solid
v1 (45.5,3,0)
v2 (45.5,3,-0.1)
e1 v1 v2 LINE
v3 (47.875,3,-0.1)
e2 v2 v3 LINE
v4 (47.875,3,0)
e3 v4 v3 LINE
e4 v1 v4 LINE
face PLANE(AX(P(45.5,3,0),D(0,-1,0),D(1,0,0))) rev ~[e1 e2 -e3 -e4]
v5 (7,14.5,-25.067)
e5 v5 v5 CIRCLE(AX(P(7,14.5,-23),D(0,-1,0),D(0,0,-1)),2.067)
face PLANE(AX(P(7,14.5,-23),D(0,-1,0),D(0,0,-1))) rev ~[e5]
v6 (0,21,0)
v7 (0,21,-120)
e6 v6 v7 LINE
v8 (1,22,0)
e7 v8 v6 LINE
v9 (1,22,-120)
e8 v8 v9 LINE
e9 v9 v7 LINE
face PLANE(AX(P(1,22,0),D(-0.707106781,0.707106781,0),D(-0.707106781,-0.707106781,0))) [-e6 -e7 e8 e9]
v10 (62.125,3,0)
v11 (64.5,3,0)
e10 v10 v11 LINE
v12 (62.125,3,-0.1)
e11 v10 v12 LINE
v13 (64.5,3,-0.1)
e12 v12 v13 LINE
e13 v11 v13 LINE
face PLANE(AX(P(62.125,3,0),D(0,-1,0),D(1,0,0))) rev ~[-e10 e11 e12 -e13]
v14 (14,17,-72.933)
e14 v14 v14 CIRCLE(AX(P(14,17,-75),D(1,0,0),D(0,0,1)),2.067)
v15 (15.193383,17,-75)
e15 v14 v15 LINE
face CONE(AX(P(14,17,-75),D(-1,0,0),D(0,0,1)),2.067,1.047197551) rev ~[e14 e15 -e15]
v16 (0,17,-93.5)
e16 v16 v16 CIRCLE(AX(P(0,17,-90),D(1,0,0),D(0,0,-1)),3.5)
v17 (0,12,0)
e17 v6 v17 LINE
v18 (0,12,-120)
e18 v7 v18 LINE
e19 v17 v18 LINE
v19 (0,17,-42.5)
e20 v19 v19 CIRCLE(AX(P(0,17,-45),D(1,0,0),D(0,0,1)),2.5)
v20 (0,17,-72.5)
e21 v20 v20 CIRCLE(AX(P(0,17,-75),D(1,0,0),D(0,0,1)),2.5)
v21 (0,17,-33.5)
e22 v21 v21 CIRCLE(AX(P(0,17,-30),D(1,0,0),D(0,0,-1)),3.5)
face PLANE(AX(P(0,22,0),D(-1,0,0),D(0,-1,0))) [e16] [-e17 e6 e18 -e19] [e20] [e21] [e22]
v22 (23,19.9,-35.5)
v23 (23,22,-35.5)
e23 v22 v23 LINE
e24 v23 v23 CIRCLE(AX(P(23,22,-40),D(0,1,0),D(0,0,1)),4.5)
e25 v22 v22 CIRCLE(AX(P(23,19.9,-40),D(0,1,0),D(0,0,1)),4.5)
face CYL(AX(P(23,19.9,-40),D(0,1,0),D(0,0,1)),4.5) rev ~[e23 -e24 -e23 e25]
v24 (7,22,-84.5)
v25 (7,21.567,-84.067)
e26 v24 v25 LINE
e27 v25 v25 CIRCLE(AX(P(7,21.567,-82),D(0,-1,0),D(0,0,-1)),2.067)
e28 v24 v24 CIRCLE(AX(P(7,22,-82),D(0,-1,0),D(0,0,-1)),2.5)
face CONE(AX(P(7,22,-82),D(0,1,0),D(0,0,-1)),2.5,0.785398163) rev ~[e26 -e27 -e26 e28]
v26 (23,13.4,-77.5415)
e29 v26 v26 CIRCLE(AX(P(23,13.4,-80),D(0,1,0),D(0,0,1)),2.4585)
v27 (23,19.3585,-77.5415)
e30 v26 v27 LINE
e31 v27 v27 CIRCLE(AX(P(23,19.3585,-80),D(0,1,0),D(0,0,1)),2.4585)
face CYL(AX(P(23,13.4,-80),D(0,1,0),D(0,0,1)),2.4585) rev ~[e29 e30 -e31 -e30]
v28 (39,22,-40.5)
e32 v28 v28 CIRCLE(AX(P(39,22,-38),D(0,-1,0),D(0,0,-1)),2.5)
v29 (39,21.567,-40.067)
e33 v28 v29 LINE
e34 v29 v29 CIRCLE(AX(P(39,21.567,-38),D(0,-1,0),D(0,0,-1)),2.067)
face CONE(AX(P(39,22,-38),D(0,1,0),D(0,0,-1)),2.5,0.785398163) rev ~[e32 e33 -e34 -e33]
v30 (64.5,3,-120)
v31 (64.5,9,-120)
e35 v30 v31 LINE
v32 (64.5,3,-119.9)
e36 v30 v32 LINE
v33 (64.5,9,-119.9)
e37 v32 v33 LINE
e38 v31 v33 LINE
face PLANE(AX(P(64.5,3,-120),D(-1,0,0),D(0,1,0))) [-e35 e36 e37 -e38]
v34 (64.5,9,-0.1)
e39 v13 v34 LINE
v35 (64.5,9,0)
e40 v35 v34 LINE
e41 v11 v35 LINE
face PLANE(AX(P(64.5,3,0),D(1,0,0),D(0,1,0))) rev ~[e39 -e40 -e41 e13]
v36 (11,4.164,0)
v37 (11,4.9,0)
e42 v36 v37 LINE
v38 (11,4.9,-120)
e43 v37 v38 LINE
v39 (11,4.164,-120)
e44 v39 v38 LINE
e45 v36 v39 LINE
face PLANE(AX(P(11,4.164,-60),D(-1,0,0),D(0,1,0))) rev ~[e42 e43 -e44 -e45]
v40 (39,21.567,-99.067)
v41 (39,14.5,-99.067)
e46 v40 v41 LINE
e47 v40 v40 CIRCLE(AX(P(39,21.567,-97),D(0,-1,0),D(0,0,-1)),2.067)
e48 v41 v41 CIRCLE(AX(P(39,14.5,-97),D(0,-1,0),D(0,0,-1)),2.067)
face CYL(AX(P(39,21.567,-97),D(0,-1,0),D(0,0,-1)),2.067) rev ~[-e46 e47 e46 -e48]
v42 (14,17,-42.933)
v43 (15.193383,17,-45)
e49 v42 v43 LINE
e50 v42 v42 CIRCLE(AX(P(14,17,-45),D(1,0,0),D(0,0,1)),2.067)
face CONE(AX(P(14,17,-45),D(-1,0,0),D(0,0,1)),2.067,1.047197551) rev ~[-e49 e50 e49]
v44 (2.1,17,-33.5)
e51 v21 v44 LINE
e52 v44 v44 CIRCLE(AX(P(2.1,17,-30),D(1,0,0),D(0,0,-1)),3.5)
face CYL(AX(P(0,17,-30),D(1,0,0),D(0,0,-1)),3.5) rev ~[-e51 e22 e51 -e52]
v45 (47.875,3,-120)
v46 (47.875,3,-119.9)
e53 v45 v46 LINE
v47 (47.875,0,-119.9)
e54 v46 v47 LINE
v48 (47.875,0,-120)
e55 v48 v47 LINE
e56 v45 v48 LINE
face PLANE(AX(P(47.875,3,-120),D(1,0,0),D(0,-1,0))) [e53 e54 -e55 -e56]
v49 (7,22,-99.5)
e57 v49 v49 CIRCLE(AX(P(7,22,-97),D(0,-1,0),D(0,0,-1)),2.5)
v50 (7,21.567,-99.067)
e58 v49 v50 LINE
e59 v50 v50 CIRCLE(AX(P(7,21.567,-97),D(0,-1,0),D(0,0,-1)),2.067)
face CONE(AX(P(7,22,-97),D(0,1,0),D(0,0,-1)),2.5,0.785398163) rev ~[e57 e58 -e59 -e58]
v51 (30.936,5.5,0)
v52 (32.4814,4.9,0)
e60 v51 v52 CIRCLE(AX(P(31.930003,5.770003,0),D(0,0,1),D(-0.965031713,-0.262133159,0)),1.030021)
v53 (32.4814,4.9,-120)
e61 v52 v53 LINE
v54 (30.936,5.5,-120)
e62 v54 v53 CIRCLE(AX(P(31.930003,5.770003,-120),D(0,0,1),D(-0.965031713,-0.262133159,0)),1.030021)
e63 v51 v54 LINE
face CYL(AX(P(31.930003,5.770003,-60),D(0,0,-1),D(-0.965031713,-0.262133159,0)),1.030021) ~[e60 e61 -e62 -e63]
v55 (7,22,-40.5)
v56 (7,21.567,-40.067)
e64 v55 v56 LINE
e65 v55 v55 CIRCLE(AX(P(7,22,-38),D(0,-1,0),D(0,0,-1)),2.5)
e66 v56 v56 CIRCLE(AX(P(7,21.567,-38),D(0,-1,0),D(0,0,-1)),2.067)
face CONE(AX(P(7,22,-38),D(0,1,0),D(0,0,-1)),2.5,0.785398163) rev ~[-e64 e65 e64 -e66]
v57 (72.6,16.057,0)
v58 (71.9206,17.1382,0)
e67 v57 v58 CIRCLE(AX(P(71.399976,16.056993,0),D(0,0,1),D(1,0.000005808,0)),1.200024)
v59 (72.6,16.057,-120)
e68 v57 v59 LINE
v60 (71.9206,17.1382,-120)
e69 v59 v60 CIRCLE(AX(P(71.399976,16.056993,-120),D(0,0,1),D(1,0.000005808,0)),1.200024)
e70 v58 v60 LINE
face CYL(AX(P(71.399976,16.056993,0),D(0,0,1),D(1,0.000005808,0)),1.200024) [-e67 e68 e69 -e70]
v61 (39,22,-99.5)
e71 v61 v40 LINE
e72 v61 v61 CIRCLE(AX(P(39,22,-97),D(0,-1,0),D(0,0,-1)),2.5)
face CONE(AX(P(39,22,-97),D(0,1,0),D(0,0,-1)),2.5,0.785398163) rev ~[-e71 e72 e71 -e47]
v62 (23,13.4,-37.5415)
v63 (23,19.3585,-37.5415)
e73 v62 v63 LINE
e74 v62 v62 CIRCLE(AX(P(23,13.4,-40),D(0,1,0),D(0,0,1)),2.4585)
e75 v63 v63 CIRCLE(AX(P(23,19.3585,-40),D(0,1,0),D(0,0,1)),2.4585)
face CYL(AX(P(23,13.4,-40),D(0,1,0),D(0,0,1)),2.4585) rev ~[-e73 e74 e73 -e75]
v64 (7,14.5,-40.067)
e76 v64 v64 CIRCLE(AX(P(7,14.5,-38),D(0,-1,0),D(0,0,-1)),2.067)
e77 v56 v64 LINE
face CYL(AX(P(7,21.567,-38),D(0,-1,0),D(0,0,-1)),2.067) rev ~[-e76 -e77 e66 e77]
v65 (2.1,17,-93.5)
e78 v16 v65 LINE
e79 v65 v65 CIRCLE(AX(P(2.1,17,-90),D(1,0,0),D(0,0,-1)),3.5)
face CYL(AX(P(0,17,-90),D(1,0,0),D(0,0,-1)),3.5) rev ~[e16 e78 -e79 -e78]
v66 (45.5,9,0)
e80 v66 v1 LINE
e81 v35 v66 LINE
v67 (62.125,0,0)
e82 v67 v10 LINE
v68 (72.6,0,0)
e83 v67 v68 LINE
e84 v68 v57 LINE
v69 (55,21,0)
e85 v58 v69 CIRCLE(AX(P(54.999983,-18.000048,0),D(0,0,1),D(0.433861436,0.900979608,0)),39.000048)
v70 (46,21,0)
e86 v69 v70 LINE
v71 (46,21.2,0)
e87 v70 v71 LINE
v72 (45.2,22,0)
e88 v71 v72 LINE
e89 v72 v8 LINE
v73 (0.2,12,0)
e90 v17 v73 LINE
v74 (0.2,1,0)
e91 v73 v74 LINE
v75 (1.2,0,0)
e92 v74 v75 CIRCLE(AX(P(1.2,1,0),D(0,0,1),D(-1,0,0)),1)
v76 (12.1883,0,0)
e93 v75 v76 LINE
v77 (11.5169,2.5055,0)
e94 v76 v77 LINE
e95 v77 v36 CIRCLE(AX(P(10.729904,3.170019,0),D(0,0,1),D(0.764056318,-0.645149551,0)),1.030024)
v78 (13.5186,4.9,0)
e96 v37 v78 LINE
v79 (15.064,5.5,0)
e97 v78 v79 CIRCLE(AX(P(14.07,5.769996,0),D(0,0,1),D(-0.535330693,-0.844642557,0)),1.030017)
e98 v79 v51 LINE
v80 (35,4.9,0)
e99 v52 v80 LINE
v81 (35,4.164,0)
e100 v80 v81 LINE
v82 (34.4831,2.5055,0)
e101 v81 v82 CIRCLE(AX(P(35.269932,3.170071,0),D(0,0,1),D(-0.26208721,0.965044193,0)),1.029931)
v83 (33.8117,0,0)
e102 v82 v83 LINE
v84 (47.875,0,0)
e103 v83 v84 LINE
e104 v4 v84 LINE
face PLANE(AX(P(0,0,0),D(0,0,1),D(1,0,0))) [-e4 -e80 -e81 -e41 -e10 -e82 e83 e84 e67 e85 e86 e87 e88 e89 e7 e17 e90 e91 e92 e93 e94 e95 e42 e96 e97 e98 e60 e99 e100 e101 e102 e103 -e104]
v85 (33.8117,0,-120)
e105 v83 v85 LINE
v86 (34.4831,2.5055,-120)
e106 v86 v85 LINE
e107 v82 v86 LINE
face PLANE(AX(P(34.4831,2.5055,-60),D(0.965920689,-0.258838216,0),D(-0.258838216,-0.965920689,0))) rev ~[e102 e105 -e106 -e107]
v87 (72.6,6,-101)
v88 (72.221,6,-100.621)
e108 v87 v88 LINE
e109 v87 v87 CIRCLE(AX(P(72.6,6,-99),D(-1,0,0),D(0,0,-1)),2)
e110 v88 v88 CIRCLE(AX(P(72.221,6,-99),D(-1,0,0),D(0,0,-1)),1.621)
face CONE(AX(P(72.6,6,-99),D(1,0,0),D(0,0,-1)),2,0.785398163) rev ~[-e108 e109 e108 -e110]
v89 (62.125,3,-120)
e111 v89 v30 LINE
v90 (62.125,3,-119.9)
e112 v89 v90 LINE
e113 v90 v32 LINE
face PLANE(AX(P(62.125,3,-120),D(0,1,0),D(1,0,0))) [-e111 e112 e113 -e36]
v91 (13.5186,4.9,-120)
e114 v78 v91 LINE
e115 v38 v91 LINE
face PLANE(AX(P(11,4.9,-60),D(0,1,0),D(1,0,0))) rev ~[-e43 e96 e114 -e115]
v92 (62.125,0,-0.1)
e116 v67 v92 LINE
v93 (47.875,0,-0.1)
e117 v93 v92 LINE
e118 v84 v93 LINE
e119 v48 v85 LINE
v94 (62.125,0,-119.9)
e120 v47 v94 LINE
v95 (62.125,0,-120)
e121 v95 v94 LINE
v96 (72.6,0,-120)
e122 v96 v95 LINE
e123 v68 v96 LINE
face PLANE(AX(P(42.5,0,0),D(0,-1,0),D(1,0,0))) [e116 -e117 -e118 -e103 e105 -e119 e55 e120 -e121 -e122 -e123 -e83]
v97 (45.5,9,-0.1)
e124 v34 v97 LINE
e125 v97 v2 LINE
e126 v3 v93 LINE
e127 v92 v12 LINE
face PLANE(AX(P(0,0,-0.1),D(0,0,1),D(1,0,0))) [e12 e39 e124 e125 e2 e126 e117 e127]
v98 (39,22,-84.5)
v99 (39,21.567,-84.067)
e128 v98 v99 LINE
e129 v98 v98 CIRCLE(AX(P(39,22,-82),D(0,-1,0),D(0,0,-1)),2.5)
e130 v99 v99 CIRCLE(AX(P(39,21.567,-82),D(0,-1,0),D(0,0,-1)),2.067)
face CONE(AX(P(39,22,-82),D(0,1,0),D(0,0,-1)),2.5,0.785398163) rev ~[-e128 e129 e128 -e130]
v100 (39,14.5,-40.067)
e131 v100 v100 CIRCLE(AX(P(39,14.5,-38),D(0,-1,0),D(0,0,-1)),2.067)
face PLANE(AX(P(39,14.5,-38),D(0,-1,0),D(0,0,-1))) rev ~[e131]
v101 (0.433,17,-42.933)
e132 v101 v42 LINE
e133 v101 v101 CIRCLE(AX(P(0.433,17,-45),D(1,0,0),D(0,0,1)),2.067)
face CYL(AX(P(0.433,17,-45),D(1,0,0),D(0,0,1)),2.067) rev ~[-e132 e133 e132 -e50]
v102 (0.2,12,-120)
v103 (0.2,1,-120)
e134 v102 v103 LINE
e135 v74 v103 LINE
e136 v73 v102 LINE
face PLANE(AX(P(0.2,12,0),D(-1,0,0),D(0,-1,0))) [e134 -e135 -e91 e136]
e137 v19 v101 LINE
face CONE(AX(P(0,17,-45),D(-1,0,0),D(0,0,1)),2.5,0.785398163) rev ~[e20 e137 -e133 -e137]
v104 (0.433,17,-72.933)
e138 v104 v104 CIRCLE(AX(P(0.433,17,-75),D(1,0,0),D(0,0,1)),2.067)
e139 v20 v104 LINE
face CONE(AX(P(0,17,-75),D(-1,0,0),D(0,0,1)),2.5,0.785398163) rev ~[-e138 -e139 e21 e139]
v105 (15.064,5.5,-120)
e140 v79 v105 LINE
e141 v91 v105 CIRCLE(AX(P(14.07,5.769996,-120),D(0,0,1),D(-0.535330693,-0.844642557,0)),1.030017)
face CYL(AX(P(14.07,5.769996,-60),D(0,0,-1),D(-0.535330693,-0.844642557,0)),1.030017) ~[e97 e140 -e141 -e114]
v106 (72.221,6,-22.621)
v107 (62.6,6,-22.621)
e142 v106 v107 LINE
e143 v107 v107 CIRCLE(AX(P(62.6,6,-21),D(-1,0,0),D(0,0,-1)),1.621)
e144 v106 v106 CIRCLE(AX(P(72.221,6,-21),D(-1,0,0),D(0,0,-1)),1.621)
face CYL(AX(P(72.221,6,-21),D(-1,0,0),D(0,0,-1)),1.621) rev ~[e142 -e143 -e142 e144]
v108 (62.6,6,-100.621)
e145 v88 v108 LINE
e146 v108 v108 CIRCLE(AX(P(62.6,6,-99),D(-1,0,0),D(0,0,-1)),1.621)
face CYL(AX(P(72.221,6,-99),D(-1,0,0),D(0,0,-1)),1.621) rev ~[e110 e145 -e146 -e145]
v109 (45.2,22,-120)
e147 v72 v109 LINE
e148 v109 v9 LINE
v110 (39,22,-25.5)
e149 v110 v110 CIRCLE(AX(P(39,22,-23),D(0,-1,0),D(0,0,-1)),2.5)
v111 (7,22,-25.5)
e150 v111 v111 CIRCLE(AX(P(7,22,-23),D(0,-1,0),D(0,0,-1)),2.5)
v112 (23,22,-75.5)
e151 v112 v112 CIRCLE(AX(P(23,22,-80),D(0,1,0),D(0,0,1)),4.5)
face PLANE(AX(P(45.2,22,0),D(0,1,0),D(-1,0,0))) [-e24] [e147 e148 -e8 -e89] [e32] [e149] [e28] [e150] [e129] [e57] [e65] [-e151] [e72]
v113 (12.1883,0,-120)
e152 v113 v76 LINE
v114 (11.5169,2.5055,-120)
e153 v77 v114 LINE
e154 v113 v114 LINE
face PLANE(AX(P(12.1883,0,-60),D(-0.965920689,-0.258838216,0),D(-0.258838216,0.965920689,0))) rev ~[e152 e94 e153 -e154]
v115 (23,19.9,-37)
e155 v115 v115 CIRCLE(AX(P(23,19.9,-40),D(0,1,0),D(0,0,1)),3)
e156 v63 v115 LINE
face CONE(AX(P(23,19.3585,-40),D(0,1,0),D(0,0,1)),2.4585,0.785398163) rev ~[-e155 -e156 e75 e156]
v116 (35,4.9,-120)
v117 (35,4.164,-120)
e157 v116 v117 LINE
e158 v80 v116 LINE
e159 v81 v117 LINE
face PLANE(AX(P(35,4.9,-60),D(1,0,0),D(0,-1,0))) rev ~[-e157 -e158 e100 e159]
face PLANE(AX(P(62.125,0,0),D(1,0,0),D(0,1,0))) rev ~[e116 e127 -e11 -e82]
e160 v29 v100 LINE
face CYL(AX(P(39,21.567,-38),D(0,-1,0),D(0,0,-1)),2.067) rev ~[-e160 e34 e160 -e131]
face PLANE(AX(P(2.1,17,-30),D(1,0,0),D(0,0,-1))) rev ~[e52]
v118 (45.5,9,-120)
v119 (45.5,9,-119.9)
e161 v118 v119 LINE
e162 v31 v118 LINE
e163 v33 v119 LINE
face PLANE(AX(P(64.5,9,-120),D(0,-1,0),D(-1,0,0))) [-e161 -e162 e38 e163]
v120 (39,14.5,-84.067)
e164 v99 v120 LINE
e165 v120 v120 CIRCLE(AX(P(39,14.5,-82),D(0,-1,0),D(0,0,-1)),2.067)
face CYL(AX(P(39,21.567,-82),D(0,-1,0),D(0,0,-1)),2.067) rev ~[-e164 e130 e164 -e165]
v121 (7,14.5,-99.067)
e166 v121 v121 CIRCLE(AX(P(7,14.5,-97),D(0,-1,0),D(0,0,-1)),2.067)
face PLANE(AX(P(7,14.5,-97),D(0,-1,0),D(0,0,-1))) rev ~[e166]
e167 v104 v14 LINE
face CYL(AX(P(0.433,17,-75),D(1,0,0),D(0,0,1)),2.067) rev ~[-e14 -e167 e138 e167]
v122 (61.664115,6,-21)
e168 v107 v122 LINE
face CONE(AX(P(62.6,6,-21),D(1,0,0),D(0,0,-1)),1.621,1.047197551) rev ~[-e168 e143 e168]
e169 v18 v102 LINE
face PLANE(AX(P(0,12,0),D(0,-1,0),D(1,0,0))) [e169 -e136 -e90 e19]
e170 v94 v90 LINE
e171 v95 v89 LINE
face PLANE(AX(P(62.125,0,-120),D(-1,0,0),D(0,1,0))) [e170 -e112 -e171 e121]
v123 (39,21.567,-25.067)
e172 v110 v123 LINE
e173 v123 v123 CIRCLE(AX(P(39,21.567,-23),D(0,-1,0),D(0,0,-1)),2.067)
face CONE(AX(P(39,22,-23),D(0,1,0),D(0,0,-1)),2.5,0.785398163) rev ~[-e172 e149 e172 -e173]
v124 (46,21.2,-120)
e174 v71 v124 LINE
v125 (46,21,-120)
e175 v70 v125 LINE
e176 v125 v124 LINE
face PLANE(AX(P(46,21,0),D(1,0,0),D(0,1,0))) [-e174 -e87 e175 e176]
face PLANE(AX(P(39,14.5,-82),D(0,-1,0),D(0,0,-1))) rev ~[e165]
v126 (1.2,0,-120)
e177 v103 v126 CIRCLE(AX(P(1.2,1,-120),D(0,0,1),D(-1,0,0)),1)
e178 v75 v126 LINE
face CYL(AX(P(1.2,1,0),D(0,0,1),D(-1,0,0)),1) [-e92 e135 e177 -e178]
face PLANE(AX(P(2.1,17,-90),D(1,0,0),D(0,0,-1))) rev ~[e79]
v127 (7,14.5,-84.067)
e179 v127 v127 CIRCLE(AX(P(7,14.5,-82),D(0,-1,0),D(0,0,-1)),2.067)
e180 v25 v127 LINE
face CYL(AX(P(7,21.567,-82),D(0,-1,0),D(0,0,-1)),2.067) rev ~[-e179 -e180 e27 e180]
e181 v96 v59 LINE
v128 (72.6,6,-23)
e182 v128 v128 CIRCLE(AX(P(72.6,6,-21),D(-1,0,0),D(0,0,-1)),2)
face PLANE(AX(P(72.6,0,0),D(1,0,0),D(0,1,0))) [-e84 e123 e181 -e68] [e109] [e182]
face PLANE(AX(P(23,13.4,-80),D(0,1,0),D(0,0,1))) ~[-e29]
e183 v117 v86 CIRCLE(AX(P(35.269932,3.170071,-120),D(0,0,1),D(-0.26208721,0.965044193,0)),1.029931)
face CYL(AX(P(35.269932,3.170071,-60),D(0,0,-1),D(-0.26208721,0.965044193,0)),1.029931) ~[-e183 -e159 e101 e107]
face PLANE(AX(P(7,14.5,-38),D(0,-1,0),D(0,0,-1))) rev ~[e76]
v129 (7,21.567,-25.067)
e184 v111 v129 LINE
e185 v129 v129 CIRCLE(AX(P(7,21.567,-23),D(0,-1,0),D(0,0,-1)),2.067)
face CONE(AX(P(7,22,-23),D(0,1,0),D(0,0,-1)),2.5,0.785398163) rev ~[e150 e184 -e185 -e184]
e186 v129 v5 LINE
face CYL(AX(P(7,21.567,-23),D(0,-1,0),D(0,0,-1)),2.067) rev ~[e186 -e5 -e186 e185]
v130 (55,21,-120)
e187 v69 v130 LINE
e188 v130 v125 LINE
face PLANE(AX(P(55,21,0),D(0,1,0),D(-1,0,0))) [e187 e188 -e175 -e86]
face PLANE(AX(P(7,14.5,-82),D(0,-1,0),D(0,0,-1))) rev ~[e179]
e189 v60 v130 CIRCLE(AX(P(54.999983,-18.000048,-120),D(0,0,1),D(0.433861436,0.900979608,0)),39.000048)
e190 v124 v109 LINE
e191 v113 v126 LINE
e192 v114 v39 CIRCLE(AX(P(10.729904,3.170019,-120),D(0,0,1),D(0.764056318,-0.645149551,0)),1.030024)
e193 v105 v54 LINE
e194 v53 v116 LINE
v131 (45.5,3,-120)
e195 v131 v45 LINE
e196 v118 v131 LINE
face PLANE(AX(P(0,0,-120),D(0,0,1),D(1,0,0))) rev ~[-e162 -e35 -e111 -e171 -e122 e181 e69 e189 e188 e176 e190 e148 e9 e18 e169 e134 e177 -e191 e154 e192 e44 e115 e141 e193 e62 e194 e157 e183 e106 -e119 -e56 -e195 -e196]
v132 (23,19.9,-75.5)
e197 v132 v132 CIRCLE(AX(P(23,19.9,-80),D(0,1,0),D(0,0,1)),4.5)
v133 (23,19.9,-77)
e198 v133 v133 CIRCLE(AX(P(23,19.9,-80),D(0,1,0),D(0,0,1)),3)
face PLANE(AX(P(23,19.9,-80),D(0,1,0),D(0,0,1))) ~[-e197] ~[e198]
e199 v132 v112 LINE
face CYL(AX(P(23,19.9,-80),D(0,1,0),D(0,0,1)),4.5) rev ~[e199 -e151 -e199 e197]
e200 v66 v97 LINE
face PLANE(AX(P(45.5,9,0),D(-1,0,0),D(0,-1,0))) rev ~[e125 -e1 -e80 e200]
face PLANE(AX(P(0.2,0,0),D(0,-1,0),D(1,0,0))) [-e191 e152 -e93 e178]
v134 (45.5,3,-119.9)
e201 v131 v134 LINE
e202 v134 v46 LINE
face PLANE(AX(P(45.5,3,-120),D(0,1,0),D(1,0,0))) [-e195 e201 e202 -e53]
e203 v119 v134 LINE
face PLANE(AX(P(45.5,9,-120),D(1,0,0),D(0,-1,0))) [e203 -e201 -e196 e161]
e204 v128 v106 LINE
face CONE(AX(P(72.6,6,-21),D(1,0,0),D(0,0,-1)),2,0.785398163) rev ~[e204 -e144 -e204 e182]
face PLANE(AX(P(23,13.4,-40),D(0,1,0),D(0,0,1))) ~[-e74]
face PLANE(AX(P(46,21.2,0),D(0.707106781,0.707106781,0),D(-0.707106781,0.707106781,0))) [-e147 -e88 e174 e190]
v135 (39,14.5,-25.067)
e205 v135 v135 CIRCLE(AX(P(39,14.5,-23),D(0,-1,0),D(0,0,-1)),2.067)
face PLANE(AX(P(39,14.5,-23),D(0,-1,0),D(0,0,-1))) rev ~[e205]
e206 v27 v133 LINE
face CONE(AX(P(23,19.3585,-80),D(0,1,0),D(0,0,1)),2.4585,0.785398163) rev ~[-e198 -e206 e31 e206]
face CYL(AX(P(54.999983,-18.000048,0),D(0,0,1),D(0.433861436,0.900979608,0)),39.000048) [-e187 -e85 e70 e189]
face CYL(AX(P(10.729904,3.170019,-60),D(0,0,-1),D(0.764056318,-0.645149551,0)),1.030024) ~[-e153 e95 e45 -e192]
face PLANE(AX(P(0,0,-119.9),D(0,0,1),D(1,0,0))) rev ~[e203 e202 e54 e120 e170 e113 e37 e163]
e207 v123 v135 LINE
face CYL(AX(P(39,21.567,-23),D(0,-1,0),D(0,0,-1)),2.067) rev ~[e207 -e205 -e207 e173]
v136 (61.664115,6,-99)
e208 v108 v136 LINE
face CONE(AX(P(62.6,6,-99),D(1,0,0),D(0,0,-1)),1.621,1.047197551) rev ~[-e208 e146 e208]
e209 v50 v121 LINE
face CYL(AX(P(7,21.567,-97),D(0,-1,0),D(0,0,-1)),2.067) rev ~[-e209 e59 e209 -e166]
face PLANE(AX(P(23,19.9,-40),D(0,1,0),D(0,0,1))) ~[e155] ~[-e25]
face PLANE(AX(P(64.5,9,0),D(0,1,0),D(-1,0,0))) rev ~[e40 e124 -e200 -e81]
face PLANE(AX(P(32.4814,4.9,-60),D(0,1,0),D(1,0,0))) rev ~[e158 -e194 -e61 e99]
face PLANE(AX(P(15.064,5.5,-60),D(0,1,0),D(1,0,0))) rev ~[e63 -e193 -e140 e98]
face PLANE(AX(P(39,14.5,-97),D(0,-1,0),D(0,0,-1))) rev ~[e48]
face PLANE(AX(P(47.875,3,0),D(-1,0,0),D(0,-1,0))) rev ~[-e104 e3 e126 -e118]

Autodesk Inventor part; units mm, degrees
sketch "Sketch_1" plane through (0, 0, 0) normal (0, 0, 1) x (1, 0, 0)
  line L0 (0, 12) -> (0.2, 12)
  line L1 (0.2, 12) -> (0.2, 0)
  line L2 (0.2, 0) -> (3.5, 0)
  line L3 (3.5, 0) -> (3.5, 11.6)
  line L4 (3.5, 11.6) -> (42.5, 11.6)
  line L5 (42.5, 11.6) -> (42.5, 0)
  line L6 (42.5, 0) -> (72.6, 0)
  line L7 (72.6, 0) -> (72.6, 16.8029)
  arc A0 (72.6, 16.8029) -> (55, 21) centre (55, -18) ccw
  line L8 (55, 21) -> (46, 21)
  line L9 (46, 21) -> (46, 22)
  line L10 (46, 22) -> (0, 22)
  line L11 (0, 22) -> (0, 12)
extrude "Extrusion1" add sketch "Sketch_1" against normal blind 120
sketch "Sketch_2" plane through (0, 0, 0) normal (0, 0, 1) x (1, 0, 0)
  line L0 (-5, 27) -> (-5, -5)
  line L1 (-5, -5) -> (85, -5)
  line L2 (85, -5) -> (85, 27)
  line L3 (85, 27) -> (-5, 27)
  line L4 (0, 12) -> (0.2, 12)
  line L5 (0.2, 12) -> (0.2, 1)
  arc A0 (0.2, 1) -> (1.2, 0) centre (1.2, 1) ccw
  line L6 (1.2, 0) -> (72.6, 0)
  line L7 (72.6, 0) -> (72.6, 16.057)
  arc A1 (72.6, 16.057) -> (71.9206, 17.1382) centre (71.4, 16.057) ccw
  arc A2 (71.9206, 17.1382) -> (55, 21) centre (55, -18) ccw
  line L8 (55, 21) -> (46, 21)
  line L9 (46, 21) -> (46, 21.2)
  line L10 (46, 21.2) -> (45.2, 22)
  line L11 (45.2, 22) -> (1, 22)
  line L12 (1, 22) -> (0, 21)
  line L13 (0, 21) -> (0, 12)
extrude "Extrusion2" cut sketch "Sketch_2" against normal blind 120
sketch "Sketch_28" plane through (0, 0, -60) normal (0, 0, 1) x (1, 0, 0)
  line L0 (3.5, 11.6) -> (3.5, 0)
  line L1 (3.5, 0) -> (11, 0)
  line L2 (11, 0) -> (11, 5.5)
  line L3 (11, 5.5) -> (35, 5.5)
  line L4 (35, 5.5) -> (35, 0)
  line L5 (35, 0) -> (42.5, 0)
  line L6 (42.5, 0) -> (42.5, 11.6)
  line L7 (42.5, 11.6) -> (3.5, 11.6)
extrude "Extrusion3" add sketch "Sketch_28" along normal mid plane 120
sketch "Sketch_3" plane through (0, 0, -60) normal (0, 0, 1) x (1, 0, 0)
  line L0 (3.5, 11.6) -> (3.5, 0)
  line L1 (3.5, 0) -> (12.1883, 0)
  line L2 (12.1883, 0) -> (11.5169, 2.5055)
  arc A0 (11.5169, 2.5055) -> (11, 4.164) centre (10.73, 3.17) ccw
  line L3 (11, 4.164) -> (11, 4.9)
  line L4 (11, 4.9) -> (13.5186, 4.9)
  arc A1 (13.5186, 4.9) -> (15.064, 5.5) centre (14.07, 5.77) ccw
  line L5 (15.064, 5.5) -> (30.936, 5.5)
  arc A2 (30.936, 5.5) -> (32.4814, 4.9) centre (31.93, 5.77) ccw
  line L6 (32.4814, 4.9) -> (35, 4.9)
  line L7 (35, 4.9) -> (35, 4.164)
  arc A3 (35, 4.164) -> (34.4831, 2.5055) centre (35.27, 3.17) ccw
  line L8 (34.4831, 2.5055) -> (33.8117, 0)
  line L9 (33.8117, 0) -> (42.5, 0)
  line L10 (42.5, 0) -> (42.5, 11.6)
  line L11 (42.5, 11.6) -> (3.5, 11.6)
extrude "Extrusion4" add sketch "Sketch_3" along normal mid plane 120
sketch "Sketch_20" plane through (0, 0, 0) normal (0, 0, 1) x (1, 0, 0)
  line L0 (45.5, 3) -> (47.875, 3)
  line L1 (47.875, 3) -> (47.875, 0)
  line L2 (47.875, 0) -> (62.125, 0)
  line L3 (62.125, 0) -> (62.125, 3)
  line L4 (62.125, 3) -> (64.5, 3)
  line L5 (64.5, 3) -> (64.5, 9)
  line L6 (64.5, 9) -> (45.5, 9)
  line L7 (45.5, 9) -> (45.5, 3)
extrude "Extrusion5" cut sketch "Sketch_20" against normal blind 0.1
sketch "Sketch_21" plane through (0, 0, -120) normal (0, 0, 1) x (1, 0, 0)
  line L0 (45.5, 3) -> (47.875, 3)
  line L1 (47.875, 3) -> (47.875, 0)
  line L2 (47.875, 0) -> (62.125, 0)
  line L3 (62.125, 0) -> (62.125, 3)
  line L4 (62.125, 3) -> (64.5, 3)
  line L5 (64.5, 3) -> (64.5, 9)
  line L6 (64.5, 9) -> (45.5, 9)
  line L7 (45.5, 9) -> (45.5, 3)
extrude "Extrusion6" cut sketch "Sketch_21" along normal blind 0.1
sketch "Sketch7" plane through (72.6, 0, 0) normal (1, 0, 0) x (0, 0, -1)
  point P0 (21, 6)
hole "Hole1" at (72.6, 6, -21) direction (-1, 0, 0) diameter 3.242 depth 10 tip angle 120 countersink diameter 4 countersink angle 90 thread size "M4x0.7" class "6H" standard "ISO Metric profile"
sketch "Sketch8" plane through (72.6, 0, 0) normal (1, 0, 0) x (0, 0, -1)
  point P0 (99, 6)
hole "Hole2" at (72.6, 6, -99) direction (-1, 0, 0) diameter 3.242 depth 10 tip angle 120 countersink diameter 4 countersink angle 90 thread size "M4x0.7" class "6H" standard "ISO Metric profile"
sketch "Sketch_8" plane through (7, 0, 0) normal (1, 0, 0) x (0, 0, -1)
  line L0 (23, 14.5) -> (23, 22)
  line L1 (23, 22) -> (25.5, 22)
  line L2 (25.5, 22) -> (25.067, 21.567)
  line L3 (25.067, 21.567) -> (25.067, 14.5)
  line L4 (25.067, 14.5) -> (23, 14.5)
  line L5 (23, 14.5) -> (23, 22)
revolve "Revolution1" cut sketch "Sketch_8" angle 360 about axis through (7, 14.5, -23) along (0, -1, 0)
thread "Thread1" size "M5x0.8" class "6H" standard "ISO Metric profile" full length
sketch "Pattern_1_Sketch_8_0" plane through (39, 0, 0) normal (1, 0, 0) x (0, 0, -1)
  line L0 (23, 14.5) -> (23, 22)
  line L1 (23, 22) -> (25.5, 22)
  line L2 (25.5, 22) -> (25.067, 21.567)
  line L3 (25.067, 21.567) -> (25.067, 14.5)
  line L4 (25.067, 14.5) -> (23, 14.5)
  line L5 (23, 14.5) -> (23, 22)
revolve "Revolution2" cut sketch "Pattern_1_Sketch_8_0" angle 360 about axis through (39, 14.5, -23) along (0, -1, 0)
thread "Thread2" size "M5x0.8" class "6H" standard "ISO Metric profile" full length
sketch "Pattern_1_Sketch_8_1" plane through (39, 0, 0) normal (1, 0, 0) x (0, 0, -1)
  line L0 (38, 14.5) -> (38, 22)
  line L1 (38, 22) -> (40.5, 22)
  line L2 (40.5, 22) -> (40.067, 21.567)
  line L3 (40.067, 21.567) -> (40.067, 14.5)
  line L4 (40.067, 14.5) -> (38, 14.5)
  line L5 (38, 14.5) -> (38, 22)
revolve "Revolution3" cut sketch "Pattern_1_Sketch_8_1" angle 360 about axis through (39, 14.5, -38) along (0, -1, 0)
thread "Thread3" size "M5x0.8" class "6H" standard "ISO Metric profile" full length
sketch "Pattern_1_Sketch_8_2" plane through (7, 0, 0) normal (1, 0, 0) x (0, 0, -1)
  line L0 (38, 14.5) -> (38, 22)
  line L1 (38, 22) -> (40.5, 22)
  line L2 (40.5, 22) -> (40.067, 21.567)
  line L3 (40.067, 21.567) -> (40.067, 14.5)
  line L4 (40.067, 14.5) -> (38, 14.5)
  line L5 (38, 14.5) -> (38, 22)
revolve "Revolution4" cut sketch "Pattern_1_Sketch_8_2" angle 360 about axis through (7, 14.5, -38) along (0, -1, 0)
thread "Thread4" size "M5x0.8" class "6H" standard "ISO Metric profile" full length
sketch "Pattern_1_Sketch_8_3" plane through (39, 0, 0) normal (1, 0, 0) x (0, 0, -1)
  line L0 (82, 14.5) -> (82, 22)
  line L1 (82, 22) -> (84.5, 22)
  line L2 (84.5, 22) -> (84.067, 21.567)
  line L3 (84.067, 21.567) -> (84.067, 14.5)
  line L4 (84.067, 14.5) -> (82, 14.5)
  line L5 (82, 14.5) -> (82, 22)
revolve "Revolution5" cut sketch "Pattern_1_Sketch_8_3" angle 360 about axis through (39, 14.5, -82) along (0, -1, 0)
thread "Thread5" size "M5x0.8" class "6H" standard "ISO Metric profile" full length
sketch "Pattern_1_Sketch_8_4" plane through (7, 0, 0) normal (1, 0, 0) x (0, 0, -1)
  line L0 (82, 14.5) -> (82, 22)
  line L1 (82, 22) -> (84.5, 22)
  line L2 (84.5, 22) -> (84.067, 21.567)
  line L3 (84.067, 21.567) -> (84.067, 14.5)
  line L4 (84.067, 14.5) -> (82, 14.5)
  line L5 (82, 14.5) -> (82, 22)
revolve "Revolution6" cut sketch "Pattern_1_Sketch_8_4" angle 360 about axis through (7, 14.5, -82) along (0, -1, 0)
thread "Thread6" size "M5x0.8" class "6H" standard "ISO Metric profile" full length
sketch "Pattern_1_Sketch_8_5" plane through (39, 0, 0) normal (1, 0, 0) x (0, 0, -1)
  line L0 (97, 14.5) -> (97, 22)
  line L1 (97, 22) -> (99.5, 22)
  line L2 (99.5, 22) -> (99.067, 21.567)
  line L3 (99.067, 21.567) -> (99.067, 14.5)
  line L4 (99.067, 14.5) -> (97, 14.5)
  line L5 (97, 14.5) -> (97, 22)
revolve "Revolution7" cut sketch "Pattern_1_Sketch_8_5" angle 360 about axis through (39, 14.5, -97) along (0, -1, 0)
thread "Thread7" size "M5x0.8" class "6H" standard "ISO Metric profile" full length
sketch "Pattern_1_Sketch_8_6" plane through (7, 0, 0) normal (1, 0, 0) x (0, 0, -1)
  line L0 (97, 14.5) -> (97, 22)
  line L1 (97, 22) -> (99.5, 22)
  line L2 (99.5, 22) -> (99.067, 21.567)
  line L3 (99.067, 21.567) -> (99.067, 14.5)
  line L4 (99.067, 14.5) -> (97, 14.5)
  line L5 (97, 14.5) -> (97, 22)
revolve "Revolution8" cut sketch "Pattern_1_Sketch_8_6" angle 360 about axis through (7, 14.5, -97) along (0, -1, 0)
thread "Thread8" size "M5x0.8" class "6H" standard "ISO Metric profile" full length
sketch "Sketch_10" plane through (23, 0, 0) normal (1, 0, 0) x (0, 0, -1)
  line L0 (40, 19.9) -> (40, 13.4)
  line L1 (40, 13.4) -> (37.5415, 13.4)
  line L2 (37.5415, 13.4) -> (37.5415, 19.3585)
  line L3 (37.5415, 19.3585) -> (37, 19.9)
  line L4 (37, 19.9) -> (35.5, 19.9)
  line L5 (35.5, 19.9) -> (35.5, 22)
  line L6 (35.5, 22) -> (40, 22)
  line L7 (40, 22) -> (40, 13.4)
revolve "Revolution9" cut sketch "Sketch_10" angle 360 about axis through (23, 19.9, -40) along (0, 1, 0)
thread "Thread9" size "M6x1" class "6H" standard "ISO Metric profile" full length
sketch "Sketch_11" plane through (23, 0, 0) normal (1, 0, 0) x (0, 0, -1)
  line L0 (80, 19.9) -> (80, 13.4)
  line L1 (80, 13.4) -> (77.5415, 13.4)
  line L2 (77.5415, 13.4) -> (77.5415, 19.3585)
  line L3 (77.5415, 19.3585) -> (77, 19.9)
  line L4 (77, 19.9) -> (75.5, 19.9)
  line L5 (75.5, 19.9) -> (75.5, 22)
  line L6 (75.5, 22) -> (80, 22)
  line L7 (80, 22) -> (80, 13.4)
revolve "Revolution10" cut sketch "Sketch_11" angle 360 about axis through (23, 19.9, -80) along (0, 1, 0)
thread "Thread10" size "M6x1" class "6H" standard "ISO Metric profile" full length
sketch "Sketch27" plane through (0, 12, -120) normal (-1, 0, 0) x (0, 0, 1)
  point P0 (75, 5)
hole "Hole3" at (0, 17, -45) direction (1, 0, 0) diameter 4.134 depth 14 tip angle 120 countersink diameter 5 countersink angle 90 thread size "M5x0.8" class "6H" standard "ISO Metric profile"
sketch "Sketch28" plane through (0, 12, -120) normal (-1, 0, 0) x (0, 0, 1)
  point P0 (45, 5)
hole "Hole4" at (0, 17, -75) direction (1, 0, 0) diameter 4.134 depth 14 tip angle 120 countersink diameter 5 countersink angle 90 thread size "M5x0.8" class "6H" standard "ISO Metric profile"
sketch "Sketch_14" plane through (0, 17, 0) normal (0, 1, 0) x (1, 0, 0)
  line L0 (2.1, 30) -> (0, 30)
  line L1 (0, 30) -> (0, 33.5)
  line L2 (0, 33.5) -> (2.1, 33.5)
  line L3 (2.1, 33.5) -> (2.1, 30)
  line L4 (2.1, 30) -> (0, 30)
revolve "Revolution11" cut sketch "Sketch_14" angle 360 about axis through (2.1, 17, -30) along (1, 0, 0)
sketch "Sketch_15" plane through (0, 17, 0) normal (0, 1, 0) x (1, 0, 0)
  line L0 (2.1, 90) -> (0, 90)
  line L1 (0, 90) -> (0, 93.5)
  line L2 (0, 93.5) -> (2.1, 93.5)
  line L3 (2.1, 93.5) -> (2.1, 90)
  line L4 (2.1, 90) -> (0, 90)
revolve "Revolution12" cut sketch "Sketch_15" angle 360 about axis through (2.1, 17, -90) along (1, 0, 0)
ref_plane "1NPN_XY" through (23, 22, -60) normal (0, 1, 0) x (1, 0, 0)
ref_plane "1NPN_YZ" through (23, 22, -60) normal (1, 0, 0) x (0, 0, -1)
ref_plane "1NPN_ZX" through (23, 22, -60) normal (0, 0, -1) x (0, 1, 0)
ref_plane "BP1_1_XY" through (3.5, 13.5, 6.5) normal (1, 0, 0) x (0, 0, -1)
ref_plane "BP1_1_YZ" through (3.5, 13.5, 6.5) normal (0, 0, -1) x (0, 1, 0)
ref_plane "BP1_1_ZX" through (3.5, 13.5, 6.5) normal (0, 1, 0) x (1, 0, 0)
ref_plane "BP1_2_XY" through (3.5, 13.5, -126.5) normal (1, 0, 0) x (0, 0, -1)
ref_plane "BP1_2_YZ" through (3.5, 13.5, -126.5) normal (0, 0, -1) x (0, 1, 0)
ref_plane "BP1_2_ZX" through (3.5, 13.5, -126.5) normal (0, 1, 0) x (1, 0, 0)
ref_plane "BP2_1_XY" through (42.5, 13.5, 6.5) normal (1, 0, 0) x (0, 0, -1)
ref_plane "BP2_1_YZ" through (42.5, 13.5, 6.5) normal (0, 0, -1) x (0, 1, 0)
ref_plane "BP2_1_ZX" through (42.5, 13.5, 6.5) normal (0, 1, 0) x (1, 0, 0)
ref_plane "BP2_2_XY" through (42.5, 13.5, -126.5) normal (1, 0, 0) x (0, 0, -1)
ref_plane "BP2_2_YZ" through (42.5, 13.5, -126.5) normal (0, 0, -1) x (0, 1, 0)
ref_plane "BP2_2_ZX" through (42.5, 13.5, -126.5) normal (0, 1, 0) x (1, 0, 0)
ref_plane "BP3_XY" through (23, 21, 6.5) normal (0, 1, 0) x (1, 0, 0)
ref_plane "BP3_YZ" through (23, 21, 6.5) normal (1, 0, 0) x (0, 0, -1)
ref_plane "BP3_ZX" through (23, 21, 6.5) normal (0, 0, -1) x (0, 1, 0)
ref_plane "BP5_XY" through (23, 21, -126.5) normal (0, 1, 0) x (1, 0, 0)
ref_plane "BP5_YZ" through (23, 21, -126.5) normal (1, 0, 0) x (0, 0, -1)
ref_plane "BP5_ZX" through (23, 21, -126.5) normal (0, 0, -1) x (0, 1, 0)
ref_plane "EXPT_BLOCK_XY" through (23, 22, -40) normal (0, -1, 0) x (1, 0, 0)
ref_plane "EXPT_BLOCK_YZ" through (23, 22, -40) normal (1, 0, 0) x (0, 0, 1)
ref_plane "EXPT_BLOCK_ZX" through (23, 22, -40) normal (0, 0, 1) x (0, -1, 0)
ref_plane "EXPT_HALTEWINKEL_H_XY" through (0, 17, -60) normal (1, 0, 0) x (0, 0, -1)
ref_plane "EXPT_HALTEWINKEL_H_YZ" through (0, 17, -60) normal (0, 0, -1) x (0, 1, 0)
ref_plane "EXPT_HALTEWINKEL_H_ZX" through (0, 17, -60) normal (0, 1, 0) x (1, 0, 0)
ref_plane "EXPT_HALTEWINKEL_V_XY" through (72.6, 6, -60) normal (-1, 0, 0) x (0, 0, -1)
ref_plane "EXPT_HALTEWINKEL_V_YZ" through (72.6, 6, -60) normal (0, 0, -1) x (0, -1, 0)
ref_plane "EXPT_HALTEWINKEL_V_ZX" through (72.6, 6, -60) normal (0, -1, 0) x (-1, 0, 0)
ref_plane "SCHALTFAHNE_XY" through (72.6, 6, -60) normal (-1, 0, 0) x (0, 0, -1)
ref_plane "SCHALTFAHNE_YZ" through (72.6, 6, -60) normal (0, 0, -1) x (0, -1, 0)
ref_plane "SCHALTFAHNE_ZX" through (72.6, 6, -60) normal (0, -1, 0) x (-1, 0, 0)
ref_plane "SCHLITTEN_XY" through (23, -1.5, -60) normal (0, 0, -1) x (1, 0, 0)
ref_plane "SCHLITTEN_YZ" through (23, -1.5, -60) normal (1, 0, 0) x (0, -1, 0)
ref_plane "SCHLITTEN_ZX" through (23, -1.5, -60) normal (0, -1, 0) x (0, 0, -1)
ref_plane "SENSOR_XY" through (0, 17, -75) normal (1, 0, 0) x (0, 0, -1)
ref_plane "SENSOR_YZ" through (0, 17, -75) normal (0, 0, -1) x (0, 1, 0)
ref_plane "SENSOR_ZX" through (0, 17, -75) normal (0, 1, 0) x (1, 0, 0)
properties part number "EGC-80-GK-GPTB1--------(0)"
